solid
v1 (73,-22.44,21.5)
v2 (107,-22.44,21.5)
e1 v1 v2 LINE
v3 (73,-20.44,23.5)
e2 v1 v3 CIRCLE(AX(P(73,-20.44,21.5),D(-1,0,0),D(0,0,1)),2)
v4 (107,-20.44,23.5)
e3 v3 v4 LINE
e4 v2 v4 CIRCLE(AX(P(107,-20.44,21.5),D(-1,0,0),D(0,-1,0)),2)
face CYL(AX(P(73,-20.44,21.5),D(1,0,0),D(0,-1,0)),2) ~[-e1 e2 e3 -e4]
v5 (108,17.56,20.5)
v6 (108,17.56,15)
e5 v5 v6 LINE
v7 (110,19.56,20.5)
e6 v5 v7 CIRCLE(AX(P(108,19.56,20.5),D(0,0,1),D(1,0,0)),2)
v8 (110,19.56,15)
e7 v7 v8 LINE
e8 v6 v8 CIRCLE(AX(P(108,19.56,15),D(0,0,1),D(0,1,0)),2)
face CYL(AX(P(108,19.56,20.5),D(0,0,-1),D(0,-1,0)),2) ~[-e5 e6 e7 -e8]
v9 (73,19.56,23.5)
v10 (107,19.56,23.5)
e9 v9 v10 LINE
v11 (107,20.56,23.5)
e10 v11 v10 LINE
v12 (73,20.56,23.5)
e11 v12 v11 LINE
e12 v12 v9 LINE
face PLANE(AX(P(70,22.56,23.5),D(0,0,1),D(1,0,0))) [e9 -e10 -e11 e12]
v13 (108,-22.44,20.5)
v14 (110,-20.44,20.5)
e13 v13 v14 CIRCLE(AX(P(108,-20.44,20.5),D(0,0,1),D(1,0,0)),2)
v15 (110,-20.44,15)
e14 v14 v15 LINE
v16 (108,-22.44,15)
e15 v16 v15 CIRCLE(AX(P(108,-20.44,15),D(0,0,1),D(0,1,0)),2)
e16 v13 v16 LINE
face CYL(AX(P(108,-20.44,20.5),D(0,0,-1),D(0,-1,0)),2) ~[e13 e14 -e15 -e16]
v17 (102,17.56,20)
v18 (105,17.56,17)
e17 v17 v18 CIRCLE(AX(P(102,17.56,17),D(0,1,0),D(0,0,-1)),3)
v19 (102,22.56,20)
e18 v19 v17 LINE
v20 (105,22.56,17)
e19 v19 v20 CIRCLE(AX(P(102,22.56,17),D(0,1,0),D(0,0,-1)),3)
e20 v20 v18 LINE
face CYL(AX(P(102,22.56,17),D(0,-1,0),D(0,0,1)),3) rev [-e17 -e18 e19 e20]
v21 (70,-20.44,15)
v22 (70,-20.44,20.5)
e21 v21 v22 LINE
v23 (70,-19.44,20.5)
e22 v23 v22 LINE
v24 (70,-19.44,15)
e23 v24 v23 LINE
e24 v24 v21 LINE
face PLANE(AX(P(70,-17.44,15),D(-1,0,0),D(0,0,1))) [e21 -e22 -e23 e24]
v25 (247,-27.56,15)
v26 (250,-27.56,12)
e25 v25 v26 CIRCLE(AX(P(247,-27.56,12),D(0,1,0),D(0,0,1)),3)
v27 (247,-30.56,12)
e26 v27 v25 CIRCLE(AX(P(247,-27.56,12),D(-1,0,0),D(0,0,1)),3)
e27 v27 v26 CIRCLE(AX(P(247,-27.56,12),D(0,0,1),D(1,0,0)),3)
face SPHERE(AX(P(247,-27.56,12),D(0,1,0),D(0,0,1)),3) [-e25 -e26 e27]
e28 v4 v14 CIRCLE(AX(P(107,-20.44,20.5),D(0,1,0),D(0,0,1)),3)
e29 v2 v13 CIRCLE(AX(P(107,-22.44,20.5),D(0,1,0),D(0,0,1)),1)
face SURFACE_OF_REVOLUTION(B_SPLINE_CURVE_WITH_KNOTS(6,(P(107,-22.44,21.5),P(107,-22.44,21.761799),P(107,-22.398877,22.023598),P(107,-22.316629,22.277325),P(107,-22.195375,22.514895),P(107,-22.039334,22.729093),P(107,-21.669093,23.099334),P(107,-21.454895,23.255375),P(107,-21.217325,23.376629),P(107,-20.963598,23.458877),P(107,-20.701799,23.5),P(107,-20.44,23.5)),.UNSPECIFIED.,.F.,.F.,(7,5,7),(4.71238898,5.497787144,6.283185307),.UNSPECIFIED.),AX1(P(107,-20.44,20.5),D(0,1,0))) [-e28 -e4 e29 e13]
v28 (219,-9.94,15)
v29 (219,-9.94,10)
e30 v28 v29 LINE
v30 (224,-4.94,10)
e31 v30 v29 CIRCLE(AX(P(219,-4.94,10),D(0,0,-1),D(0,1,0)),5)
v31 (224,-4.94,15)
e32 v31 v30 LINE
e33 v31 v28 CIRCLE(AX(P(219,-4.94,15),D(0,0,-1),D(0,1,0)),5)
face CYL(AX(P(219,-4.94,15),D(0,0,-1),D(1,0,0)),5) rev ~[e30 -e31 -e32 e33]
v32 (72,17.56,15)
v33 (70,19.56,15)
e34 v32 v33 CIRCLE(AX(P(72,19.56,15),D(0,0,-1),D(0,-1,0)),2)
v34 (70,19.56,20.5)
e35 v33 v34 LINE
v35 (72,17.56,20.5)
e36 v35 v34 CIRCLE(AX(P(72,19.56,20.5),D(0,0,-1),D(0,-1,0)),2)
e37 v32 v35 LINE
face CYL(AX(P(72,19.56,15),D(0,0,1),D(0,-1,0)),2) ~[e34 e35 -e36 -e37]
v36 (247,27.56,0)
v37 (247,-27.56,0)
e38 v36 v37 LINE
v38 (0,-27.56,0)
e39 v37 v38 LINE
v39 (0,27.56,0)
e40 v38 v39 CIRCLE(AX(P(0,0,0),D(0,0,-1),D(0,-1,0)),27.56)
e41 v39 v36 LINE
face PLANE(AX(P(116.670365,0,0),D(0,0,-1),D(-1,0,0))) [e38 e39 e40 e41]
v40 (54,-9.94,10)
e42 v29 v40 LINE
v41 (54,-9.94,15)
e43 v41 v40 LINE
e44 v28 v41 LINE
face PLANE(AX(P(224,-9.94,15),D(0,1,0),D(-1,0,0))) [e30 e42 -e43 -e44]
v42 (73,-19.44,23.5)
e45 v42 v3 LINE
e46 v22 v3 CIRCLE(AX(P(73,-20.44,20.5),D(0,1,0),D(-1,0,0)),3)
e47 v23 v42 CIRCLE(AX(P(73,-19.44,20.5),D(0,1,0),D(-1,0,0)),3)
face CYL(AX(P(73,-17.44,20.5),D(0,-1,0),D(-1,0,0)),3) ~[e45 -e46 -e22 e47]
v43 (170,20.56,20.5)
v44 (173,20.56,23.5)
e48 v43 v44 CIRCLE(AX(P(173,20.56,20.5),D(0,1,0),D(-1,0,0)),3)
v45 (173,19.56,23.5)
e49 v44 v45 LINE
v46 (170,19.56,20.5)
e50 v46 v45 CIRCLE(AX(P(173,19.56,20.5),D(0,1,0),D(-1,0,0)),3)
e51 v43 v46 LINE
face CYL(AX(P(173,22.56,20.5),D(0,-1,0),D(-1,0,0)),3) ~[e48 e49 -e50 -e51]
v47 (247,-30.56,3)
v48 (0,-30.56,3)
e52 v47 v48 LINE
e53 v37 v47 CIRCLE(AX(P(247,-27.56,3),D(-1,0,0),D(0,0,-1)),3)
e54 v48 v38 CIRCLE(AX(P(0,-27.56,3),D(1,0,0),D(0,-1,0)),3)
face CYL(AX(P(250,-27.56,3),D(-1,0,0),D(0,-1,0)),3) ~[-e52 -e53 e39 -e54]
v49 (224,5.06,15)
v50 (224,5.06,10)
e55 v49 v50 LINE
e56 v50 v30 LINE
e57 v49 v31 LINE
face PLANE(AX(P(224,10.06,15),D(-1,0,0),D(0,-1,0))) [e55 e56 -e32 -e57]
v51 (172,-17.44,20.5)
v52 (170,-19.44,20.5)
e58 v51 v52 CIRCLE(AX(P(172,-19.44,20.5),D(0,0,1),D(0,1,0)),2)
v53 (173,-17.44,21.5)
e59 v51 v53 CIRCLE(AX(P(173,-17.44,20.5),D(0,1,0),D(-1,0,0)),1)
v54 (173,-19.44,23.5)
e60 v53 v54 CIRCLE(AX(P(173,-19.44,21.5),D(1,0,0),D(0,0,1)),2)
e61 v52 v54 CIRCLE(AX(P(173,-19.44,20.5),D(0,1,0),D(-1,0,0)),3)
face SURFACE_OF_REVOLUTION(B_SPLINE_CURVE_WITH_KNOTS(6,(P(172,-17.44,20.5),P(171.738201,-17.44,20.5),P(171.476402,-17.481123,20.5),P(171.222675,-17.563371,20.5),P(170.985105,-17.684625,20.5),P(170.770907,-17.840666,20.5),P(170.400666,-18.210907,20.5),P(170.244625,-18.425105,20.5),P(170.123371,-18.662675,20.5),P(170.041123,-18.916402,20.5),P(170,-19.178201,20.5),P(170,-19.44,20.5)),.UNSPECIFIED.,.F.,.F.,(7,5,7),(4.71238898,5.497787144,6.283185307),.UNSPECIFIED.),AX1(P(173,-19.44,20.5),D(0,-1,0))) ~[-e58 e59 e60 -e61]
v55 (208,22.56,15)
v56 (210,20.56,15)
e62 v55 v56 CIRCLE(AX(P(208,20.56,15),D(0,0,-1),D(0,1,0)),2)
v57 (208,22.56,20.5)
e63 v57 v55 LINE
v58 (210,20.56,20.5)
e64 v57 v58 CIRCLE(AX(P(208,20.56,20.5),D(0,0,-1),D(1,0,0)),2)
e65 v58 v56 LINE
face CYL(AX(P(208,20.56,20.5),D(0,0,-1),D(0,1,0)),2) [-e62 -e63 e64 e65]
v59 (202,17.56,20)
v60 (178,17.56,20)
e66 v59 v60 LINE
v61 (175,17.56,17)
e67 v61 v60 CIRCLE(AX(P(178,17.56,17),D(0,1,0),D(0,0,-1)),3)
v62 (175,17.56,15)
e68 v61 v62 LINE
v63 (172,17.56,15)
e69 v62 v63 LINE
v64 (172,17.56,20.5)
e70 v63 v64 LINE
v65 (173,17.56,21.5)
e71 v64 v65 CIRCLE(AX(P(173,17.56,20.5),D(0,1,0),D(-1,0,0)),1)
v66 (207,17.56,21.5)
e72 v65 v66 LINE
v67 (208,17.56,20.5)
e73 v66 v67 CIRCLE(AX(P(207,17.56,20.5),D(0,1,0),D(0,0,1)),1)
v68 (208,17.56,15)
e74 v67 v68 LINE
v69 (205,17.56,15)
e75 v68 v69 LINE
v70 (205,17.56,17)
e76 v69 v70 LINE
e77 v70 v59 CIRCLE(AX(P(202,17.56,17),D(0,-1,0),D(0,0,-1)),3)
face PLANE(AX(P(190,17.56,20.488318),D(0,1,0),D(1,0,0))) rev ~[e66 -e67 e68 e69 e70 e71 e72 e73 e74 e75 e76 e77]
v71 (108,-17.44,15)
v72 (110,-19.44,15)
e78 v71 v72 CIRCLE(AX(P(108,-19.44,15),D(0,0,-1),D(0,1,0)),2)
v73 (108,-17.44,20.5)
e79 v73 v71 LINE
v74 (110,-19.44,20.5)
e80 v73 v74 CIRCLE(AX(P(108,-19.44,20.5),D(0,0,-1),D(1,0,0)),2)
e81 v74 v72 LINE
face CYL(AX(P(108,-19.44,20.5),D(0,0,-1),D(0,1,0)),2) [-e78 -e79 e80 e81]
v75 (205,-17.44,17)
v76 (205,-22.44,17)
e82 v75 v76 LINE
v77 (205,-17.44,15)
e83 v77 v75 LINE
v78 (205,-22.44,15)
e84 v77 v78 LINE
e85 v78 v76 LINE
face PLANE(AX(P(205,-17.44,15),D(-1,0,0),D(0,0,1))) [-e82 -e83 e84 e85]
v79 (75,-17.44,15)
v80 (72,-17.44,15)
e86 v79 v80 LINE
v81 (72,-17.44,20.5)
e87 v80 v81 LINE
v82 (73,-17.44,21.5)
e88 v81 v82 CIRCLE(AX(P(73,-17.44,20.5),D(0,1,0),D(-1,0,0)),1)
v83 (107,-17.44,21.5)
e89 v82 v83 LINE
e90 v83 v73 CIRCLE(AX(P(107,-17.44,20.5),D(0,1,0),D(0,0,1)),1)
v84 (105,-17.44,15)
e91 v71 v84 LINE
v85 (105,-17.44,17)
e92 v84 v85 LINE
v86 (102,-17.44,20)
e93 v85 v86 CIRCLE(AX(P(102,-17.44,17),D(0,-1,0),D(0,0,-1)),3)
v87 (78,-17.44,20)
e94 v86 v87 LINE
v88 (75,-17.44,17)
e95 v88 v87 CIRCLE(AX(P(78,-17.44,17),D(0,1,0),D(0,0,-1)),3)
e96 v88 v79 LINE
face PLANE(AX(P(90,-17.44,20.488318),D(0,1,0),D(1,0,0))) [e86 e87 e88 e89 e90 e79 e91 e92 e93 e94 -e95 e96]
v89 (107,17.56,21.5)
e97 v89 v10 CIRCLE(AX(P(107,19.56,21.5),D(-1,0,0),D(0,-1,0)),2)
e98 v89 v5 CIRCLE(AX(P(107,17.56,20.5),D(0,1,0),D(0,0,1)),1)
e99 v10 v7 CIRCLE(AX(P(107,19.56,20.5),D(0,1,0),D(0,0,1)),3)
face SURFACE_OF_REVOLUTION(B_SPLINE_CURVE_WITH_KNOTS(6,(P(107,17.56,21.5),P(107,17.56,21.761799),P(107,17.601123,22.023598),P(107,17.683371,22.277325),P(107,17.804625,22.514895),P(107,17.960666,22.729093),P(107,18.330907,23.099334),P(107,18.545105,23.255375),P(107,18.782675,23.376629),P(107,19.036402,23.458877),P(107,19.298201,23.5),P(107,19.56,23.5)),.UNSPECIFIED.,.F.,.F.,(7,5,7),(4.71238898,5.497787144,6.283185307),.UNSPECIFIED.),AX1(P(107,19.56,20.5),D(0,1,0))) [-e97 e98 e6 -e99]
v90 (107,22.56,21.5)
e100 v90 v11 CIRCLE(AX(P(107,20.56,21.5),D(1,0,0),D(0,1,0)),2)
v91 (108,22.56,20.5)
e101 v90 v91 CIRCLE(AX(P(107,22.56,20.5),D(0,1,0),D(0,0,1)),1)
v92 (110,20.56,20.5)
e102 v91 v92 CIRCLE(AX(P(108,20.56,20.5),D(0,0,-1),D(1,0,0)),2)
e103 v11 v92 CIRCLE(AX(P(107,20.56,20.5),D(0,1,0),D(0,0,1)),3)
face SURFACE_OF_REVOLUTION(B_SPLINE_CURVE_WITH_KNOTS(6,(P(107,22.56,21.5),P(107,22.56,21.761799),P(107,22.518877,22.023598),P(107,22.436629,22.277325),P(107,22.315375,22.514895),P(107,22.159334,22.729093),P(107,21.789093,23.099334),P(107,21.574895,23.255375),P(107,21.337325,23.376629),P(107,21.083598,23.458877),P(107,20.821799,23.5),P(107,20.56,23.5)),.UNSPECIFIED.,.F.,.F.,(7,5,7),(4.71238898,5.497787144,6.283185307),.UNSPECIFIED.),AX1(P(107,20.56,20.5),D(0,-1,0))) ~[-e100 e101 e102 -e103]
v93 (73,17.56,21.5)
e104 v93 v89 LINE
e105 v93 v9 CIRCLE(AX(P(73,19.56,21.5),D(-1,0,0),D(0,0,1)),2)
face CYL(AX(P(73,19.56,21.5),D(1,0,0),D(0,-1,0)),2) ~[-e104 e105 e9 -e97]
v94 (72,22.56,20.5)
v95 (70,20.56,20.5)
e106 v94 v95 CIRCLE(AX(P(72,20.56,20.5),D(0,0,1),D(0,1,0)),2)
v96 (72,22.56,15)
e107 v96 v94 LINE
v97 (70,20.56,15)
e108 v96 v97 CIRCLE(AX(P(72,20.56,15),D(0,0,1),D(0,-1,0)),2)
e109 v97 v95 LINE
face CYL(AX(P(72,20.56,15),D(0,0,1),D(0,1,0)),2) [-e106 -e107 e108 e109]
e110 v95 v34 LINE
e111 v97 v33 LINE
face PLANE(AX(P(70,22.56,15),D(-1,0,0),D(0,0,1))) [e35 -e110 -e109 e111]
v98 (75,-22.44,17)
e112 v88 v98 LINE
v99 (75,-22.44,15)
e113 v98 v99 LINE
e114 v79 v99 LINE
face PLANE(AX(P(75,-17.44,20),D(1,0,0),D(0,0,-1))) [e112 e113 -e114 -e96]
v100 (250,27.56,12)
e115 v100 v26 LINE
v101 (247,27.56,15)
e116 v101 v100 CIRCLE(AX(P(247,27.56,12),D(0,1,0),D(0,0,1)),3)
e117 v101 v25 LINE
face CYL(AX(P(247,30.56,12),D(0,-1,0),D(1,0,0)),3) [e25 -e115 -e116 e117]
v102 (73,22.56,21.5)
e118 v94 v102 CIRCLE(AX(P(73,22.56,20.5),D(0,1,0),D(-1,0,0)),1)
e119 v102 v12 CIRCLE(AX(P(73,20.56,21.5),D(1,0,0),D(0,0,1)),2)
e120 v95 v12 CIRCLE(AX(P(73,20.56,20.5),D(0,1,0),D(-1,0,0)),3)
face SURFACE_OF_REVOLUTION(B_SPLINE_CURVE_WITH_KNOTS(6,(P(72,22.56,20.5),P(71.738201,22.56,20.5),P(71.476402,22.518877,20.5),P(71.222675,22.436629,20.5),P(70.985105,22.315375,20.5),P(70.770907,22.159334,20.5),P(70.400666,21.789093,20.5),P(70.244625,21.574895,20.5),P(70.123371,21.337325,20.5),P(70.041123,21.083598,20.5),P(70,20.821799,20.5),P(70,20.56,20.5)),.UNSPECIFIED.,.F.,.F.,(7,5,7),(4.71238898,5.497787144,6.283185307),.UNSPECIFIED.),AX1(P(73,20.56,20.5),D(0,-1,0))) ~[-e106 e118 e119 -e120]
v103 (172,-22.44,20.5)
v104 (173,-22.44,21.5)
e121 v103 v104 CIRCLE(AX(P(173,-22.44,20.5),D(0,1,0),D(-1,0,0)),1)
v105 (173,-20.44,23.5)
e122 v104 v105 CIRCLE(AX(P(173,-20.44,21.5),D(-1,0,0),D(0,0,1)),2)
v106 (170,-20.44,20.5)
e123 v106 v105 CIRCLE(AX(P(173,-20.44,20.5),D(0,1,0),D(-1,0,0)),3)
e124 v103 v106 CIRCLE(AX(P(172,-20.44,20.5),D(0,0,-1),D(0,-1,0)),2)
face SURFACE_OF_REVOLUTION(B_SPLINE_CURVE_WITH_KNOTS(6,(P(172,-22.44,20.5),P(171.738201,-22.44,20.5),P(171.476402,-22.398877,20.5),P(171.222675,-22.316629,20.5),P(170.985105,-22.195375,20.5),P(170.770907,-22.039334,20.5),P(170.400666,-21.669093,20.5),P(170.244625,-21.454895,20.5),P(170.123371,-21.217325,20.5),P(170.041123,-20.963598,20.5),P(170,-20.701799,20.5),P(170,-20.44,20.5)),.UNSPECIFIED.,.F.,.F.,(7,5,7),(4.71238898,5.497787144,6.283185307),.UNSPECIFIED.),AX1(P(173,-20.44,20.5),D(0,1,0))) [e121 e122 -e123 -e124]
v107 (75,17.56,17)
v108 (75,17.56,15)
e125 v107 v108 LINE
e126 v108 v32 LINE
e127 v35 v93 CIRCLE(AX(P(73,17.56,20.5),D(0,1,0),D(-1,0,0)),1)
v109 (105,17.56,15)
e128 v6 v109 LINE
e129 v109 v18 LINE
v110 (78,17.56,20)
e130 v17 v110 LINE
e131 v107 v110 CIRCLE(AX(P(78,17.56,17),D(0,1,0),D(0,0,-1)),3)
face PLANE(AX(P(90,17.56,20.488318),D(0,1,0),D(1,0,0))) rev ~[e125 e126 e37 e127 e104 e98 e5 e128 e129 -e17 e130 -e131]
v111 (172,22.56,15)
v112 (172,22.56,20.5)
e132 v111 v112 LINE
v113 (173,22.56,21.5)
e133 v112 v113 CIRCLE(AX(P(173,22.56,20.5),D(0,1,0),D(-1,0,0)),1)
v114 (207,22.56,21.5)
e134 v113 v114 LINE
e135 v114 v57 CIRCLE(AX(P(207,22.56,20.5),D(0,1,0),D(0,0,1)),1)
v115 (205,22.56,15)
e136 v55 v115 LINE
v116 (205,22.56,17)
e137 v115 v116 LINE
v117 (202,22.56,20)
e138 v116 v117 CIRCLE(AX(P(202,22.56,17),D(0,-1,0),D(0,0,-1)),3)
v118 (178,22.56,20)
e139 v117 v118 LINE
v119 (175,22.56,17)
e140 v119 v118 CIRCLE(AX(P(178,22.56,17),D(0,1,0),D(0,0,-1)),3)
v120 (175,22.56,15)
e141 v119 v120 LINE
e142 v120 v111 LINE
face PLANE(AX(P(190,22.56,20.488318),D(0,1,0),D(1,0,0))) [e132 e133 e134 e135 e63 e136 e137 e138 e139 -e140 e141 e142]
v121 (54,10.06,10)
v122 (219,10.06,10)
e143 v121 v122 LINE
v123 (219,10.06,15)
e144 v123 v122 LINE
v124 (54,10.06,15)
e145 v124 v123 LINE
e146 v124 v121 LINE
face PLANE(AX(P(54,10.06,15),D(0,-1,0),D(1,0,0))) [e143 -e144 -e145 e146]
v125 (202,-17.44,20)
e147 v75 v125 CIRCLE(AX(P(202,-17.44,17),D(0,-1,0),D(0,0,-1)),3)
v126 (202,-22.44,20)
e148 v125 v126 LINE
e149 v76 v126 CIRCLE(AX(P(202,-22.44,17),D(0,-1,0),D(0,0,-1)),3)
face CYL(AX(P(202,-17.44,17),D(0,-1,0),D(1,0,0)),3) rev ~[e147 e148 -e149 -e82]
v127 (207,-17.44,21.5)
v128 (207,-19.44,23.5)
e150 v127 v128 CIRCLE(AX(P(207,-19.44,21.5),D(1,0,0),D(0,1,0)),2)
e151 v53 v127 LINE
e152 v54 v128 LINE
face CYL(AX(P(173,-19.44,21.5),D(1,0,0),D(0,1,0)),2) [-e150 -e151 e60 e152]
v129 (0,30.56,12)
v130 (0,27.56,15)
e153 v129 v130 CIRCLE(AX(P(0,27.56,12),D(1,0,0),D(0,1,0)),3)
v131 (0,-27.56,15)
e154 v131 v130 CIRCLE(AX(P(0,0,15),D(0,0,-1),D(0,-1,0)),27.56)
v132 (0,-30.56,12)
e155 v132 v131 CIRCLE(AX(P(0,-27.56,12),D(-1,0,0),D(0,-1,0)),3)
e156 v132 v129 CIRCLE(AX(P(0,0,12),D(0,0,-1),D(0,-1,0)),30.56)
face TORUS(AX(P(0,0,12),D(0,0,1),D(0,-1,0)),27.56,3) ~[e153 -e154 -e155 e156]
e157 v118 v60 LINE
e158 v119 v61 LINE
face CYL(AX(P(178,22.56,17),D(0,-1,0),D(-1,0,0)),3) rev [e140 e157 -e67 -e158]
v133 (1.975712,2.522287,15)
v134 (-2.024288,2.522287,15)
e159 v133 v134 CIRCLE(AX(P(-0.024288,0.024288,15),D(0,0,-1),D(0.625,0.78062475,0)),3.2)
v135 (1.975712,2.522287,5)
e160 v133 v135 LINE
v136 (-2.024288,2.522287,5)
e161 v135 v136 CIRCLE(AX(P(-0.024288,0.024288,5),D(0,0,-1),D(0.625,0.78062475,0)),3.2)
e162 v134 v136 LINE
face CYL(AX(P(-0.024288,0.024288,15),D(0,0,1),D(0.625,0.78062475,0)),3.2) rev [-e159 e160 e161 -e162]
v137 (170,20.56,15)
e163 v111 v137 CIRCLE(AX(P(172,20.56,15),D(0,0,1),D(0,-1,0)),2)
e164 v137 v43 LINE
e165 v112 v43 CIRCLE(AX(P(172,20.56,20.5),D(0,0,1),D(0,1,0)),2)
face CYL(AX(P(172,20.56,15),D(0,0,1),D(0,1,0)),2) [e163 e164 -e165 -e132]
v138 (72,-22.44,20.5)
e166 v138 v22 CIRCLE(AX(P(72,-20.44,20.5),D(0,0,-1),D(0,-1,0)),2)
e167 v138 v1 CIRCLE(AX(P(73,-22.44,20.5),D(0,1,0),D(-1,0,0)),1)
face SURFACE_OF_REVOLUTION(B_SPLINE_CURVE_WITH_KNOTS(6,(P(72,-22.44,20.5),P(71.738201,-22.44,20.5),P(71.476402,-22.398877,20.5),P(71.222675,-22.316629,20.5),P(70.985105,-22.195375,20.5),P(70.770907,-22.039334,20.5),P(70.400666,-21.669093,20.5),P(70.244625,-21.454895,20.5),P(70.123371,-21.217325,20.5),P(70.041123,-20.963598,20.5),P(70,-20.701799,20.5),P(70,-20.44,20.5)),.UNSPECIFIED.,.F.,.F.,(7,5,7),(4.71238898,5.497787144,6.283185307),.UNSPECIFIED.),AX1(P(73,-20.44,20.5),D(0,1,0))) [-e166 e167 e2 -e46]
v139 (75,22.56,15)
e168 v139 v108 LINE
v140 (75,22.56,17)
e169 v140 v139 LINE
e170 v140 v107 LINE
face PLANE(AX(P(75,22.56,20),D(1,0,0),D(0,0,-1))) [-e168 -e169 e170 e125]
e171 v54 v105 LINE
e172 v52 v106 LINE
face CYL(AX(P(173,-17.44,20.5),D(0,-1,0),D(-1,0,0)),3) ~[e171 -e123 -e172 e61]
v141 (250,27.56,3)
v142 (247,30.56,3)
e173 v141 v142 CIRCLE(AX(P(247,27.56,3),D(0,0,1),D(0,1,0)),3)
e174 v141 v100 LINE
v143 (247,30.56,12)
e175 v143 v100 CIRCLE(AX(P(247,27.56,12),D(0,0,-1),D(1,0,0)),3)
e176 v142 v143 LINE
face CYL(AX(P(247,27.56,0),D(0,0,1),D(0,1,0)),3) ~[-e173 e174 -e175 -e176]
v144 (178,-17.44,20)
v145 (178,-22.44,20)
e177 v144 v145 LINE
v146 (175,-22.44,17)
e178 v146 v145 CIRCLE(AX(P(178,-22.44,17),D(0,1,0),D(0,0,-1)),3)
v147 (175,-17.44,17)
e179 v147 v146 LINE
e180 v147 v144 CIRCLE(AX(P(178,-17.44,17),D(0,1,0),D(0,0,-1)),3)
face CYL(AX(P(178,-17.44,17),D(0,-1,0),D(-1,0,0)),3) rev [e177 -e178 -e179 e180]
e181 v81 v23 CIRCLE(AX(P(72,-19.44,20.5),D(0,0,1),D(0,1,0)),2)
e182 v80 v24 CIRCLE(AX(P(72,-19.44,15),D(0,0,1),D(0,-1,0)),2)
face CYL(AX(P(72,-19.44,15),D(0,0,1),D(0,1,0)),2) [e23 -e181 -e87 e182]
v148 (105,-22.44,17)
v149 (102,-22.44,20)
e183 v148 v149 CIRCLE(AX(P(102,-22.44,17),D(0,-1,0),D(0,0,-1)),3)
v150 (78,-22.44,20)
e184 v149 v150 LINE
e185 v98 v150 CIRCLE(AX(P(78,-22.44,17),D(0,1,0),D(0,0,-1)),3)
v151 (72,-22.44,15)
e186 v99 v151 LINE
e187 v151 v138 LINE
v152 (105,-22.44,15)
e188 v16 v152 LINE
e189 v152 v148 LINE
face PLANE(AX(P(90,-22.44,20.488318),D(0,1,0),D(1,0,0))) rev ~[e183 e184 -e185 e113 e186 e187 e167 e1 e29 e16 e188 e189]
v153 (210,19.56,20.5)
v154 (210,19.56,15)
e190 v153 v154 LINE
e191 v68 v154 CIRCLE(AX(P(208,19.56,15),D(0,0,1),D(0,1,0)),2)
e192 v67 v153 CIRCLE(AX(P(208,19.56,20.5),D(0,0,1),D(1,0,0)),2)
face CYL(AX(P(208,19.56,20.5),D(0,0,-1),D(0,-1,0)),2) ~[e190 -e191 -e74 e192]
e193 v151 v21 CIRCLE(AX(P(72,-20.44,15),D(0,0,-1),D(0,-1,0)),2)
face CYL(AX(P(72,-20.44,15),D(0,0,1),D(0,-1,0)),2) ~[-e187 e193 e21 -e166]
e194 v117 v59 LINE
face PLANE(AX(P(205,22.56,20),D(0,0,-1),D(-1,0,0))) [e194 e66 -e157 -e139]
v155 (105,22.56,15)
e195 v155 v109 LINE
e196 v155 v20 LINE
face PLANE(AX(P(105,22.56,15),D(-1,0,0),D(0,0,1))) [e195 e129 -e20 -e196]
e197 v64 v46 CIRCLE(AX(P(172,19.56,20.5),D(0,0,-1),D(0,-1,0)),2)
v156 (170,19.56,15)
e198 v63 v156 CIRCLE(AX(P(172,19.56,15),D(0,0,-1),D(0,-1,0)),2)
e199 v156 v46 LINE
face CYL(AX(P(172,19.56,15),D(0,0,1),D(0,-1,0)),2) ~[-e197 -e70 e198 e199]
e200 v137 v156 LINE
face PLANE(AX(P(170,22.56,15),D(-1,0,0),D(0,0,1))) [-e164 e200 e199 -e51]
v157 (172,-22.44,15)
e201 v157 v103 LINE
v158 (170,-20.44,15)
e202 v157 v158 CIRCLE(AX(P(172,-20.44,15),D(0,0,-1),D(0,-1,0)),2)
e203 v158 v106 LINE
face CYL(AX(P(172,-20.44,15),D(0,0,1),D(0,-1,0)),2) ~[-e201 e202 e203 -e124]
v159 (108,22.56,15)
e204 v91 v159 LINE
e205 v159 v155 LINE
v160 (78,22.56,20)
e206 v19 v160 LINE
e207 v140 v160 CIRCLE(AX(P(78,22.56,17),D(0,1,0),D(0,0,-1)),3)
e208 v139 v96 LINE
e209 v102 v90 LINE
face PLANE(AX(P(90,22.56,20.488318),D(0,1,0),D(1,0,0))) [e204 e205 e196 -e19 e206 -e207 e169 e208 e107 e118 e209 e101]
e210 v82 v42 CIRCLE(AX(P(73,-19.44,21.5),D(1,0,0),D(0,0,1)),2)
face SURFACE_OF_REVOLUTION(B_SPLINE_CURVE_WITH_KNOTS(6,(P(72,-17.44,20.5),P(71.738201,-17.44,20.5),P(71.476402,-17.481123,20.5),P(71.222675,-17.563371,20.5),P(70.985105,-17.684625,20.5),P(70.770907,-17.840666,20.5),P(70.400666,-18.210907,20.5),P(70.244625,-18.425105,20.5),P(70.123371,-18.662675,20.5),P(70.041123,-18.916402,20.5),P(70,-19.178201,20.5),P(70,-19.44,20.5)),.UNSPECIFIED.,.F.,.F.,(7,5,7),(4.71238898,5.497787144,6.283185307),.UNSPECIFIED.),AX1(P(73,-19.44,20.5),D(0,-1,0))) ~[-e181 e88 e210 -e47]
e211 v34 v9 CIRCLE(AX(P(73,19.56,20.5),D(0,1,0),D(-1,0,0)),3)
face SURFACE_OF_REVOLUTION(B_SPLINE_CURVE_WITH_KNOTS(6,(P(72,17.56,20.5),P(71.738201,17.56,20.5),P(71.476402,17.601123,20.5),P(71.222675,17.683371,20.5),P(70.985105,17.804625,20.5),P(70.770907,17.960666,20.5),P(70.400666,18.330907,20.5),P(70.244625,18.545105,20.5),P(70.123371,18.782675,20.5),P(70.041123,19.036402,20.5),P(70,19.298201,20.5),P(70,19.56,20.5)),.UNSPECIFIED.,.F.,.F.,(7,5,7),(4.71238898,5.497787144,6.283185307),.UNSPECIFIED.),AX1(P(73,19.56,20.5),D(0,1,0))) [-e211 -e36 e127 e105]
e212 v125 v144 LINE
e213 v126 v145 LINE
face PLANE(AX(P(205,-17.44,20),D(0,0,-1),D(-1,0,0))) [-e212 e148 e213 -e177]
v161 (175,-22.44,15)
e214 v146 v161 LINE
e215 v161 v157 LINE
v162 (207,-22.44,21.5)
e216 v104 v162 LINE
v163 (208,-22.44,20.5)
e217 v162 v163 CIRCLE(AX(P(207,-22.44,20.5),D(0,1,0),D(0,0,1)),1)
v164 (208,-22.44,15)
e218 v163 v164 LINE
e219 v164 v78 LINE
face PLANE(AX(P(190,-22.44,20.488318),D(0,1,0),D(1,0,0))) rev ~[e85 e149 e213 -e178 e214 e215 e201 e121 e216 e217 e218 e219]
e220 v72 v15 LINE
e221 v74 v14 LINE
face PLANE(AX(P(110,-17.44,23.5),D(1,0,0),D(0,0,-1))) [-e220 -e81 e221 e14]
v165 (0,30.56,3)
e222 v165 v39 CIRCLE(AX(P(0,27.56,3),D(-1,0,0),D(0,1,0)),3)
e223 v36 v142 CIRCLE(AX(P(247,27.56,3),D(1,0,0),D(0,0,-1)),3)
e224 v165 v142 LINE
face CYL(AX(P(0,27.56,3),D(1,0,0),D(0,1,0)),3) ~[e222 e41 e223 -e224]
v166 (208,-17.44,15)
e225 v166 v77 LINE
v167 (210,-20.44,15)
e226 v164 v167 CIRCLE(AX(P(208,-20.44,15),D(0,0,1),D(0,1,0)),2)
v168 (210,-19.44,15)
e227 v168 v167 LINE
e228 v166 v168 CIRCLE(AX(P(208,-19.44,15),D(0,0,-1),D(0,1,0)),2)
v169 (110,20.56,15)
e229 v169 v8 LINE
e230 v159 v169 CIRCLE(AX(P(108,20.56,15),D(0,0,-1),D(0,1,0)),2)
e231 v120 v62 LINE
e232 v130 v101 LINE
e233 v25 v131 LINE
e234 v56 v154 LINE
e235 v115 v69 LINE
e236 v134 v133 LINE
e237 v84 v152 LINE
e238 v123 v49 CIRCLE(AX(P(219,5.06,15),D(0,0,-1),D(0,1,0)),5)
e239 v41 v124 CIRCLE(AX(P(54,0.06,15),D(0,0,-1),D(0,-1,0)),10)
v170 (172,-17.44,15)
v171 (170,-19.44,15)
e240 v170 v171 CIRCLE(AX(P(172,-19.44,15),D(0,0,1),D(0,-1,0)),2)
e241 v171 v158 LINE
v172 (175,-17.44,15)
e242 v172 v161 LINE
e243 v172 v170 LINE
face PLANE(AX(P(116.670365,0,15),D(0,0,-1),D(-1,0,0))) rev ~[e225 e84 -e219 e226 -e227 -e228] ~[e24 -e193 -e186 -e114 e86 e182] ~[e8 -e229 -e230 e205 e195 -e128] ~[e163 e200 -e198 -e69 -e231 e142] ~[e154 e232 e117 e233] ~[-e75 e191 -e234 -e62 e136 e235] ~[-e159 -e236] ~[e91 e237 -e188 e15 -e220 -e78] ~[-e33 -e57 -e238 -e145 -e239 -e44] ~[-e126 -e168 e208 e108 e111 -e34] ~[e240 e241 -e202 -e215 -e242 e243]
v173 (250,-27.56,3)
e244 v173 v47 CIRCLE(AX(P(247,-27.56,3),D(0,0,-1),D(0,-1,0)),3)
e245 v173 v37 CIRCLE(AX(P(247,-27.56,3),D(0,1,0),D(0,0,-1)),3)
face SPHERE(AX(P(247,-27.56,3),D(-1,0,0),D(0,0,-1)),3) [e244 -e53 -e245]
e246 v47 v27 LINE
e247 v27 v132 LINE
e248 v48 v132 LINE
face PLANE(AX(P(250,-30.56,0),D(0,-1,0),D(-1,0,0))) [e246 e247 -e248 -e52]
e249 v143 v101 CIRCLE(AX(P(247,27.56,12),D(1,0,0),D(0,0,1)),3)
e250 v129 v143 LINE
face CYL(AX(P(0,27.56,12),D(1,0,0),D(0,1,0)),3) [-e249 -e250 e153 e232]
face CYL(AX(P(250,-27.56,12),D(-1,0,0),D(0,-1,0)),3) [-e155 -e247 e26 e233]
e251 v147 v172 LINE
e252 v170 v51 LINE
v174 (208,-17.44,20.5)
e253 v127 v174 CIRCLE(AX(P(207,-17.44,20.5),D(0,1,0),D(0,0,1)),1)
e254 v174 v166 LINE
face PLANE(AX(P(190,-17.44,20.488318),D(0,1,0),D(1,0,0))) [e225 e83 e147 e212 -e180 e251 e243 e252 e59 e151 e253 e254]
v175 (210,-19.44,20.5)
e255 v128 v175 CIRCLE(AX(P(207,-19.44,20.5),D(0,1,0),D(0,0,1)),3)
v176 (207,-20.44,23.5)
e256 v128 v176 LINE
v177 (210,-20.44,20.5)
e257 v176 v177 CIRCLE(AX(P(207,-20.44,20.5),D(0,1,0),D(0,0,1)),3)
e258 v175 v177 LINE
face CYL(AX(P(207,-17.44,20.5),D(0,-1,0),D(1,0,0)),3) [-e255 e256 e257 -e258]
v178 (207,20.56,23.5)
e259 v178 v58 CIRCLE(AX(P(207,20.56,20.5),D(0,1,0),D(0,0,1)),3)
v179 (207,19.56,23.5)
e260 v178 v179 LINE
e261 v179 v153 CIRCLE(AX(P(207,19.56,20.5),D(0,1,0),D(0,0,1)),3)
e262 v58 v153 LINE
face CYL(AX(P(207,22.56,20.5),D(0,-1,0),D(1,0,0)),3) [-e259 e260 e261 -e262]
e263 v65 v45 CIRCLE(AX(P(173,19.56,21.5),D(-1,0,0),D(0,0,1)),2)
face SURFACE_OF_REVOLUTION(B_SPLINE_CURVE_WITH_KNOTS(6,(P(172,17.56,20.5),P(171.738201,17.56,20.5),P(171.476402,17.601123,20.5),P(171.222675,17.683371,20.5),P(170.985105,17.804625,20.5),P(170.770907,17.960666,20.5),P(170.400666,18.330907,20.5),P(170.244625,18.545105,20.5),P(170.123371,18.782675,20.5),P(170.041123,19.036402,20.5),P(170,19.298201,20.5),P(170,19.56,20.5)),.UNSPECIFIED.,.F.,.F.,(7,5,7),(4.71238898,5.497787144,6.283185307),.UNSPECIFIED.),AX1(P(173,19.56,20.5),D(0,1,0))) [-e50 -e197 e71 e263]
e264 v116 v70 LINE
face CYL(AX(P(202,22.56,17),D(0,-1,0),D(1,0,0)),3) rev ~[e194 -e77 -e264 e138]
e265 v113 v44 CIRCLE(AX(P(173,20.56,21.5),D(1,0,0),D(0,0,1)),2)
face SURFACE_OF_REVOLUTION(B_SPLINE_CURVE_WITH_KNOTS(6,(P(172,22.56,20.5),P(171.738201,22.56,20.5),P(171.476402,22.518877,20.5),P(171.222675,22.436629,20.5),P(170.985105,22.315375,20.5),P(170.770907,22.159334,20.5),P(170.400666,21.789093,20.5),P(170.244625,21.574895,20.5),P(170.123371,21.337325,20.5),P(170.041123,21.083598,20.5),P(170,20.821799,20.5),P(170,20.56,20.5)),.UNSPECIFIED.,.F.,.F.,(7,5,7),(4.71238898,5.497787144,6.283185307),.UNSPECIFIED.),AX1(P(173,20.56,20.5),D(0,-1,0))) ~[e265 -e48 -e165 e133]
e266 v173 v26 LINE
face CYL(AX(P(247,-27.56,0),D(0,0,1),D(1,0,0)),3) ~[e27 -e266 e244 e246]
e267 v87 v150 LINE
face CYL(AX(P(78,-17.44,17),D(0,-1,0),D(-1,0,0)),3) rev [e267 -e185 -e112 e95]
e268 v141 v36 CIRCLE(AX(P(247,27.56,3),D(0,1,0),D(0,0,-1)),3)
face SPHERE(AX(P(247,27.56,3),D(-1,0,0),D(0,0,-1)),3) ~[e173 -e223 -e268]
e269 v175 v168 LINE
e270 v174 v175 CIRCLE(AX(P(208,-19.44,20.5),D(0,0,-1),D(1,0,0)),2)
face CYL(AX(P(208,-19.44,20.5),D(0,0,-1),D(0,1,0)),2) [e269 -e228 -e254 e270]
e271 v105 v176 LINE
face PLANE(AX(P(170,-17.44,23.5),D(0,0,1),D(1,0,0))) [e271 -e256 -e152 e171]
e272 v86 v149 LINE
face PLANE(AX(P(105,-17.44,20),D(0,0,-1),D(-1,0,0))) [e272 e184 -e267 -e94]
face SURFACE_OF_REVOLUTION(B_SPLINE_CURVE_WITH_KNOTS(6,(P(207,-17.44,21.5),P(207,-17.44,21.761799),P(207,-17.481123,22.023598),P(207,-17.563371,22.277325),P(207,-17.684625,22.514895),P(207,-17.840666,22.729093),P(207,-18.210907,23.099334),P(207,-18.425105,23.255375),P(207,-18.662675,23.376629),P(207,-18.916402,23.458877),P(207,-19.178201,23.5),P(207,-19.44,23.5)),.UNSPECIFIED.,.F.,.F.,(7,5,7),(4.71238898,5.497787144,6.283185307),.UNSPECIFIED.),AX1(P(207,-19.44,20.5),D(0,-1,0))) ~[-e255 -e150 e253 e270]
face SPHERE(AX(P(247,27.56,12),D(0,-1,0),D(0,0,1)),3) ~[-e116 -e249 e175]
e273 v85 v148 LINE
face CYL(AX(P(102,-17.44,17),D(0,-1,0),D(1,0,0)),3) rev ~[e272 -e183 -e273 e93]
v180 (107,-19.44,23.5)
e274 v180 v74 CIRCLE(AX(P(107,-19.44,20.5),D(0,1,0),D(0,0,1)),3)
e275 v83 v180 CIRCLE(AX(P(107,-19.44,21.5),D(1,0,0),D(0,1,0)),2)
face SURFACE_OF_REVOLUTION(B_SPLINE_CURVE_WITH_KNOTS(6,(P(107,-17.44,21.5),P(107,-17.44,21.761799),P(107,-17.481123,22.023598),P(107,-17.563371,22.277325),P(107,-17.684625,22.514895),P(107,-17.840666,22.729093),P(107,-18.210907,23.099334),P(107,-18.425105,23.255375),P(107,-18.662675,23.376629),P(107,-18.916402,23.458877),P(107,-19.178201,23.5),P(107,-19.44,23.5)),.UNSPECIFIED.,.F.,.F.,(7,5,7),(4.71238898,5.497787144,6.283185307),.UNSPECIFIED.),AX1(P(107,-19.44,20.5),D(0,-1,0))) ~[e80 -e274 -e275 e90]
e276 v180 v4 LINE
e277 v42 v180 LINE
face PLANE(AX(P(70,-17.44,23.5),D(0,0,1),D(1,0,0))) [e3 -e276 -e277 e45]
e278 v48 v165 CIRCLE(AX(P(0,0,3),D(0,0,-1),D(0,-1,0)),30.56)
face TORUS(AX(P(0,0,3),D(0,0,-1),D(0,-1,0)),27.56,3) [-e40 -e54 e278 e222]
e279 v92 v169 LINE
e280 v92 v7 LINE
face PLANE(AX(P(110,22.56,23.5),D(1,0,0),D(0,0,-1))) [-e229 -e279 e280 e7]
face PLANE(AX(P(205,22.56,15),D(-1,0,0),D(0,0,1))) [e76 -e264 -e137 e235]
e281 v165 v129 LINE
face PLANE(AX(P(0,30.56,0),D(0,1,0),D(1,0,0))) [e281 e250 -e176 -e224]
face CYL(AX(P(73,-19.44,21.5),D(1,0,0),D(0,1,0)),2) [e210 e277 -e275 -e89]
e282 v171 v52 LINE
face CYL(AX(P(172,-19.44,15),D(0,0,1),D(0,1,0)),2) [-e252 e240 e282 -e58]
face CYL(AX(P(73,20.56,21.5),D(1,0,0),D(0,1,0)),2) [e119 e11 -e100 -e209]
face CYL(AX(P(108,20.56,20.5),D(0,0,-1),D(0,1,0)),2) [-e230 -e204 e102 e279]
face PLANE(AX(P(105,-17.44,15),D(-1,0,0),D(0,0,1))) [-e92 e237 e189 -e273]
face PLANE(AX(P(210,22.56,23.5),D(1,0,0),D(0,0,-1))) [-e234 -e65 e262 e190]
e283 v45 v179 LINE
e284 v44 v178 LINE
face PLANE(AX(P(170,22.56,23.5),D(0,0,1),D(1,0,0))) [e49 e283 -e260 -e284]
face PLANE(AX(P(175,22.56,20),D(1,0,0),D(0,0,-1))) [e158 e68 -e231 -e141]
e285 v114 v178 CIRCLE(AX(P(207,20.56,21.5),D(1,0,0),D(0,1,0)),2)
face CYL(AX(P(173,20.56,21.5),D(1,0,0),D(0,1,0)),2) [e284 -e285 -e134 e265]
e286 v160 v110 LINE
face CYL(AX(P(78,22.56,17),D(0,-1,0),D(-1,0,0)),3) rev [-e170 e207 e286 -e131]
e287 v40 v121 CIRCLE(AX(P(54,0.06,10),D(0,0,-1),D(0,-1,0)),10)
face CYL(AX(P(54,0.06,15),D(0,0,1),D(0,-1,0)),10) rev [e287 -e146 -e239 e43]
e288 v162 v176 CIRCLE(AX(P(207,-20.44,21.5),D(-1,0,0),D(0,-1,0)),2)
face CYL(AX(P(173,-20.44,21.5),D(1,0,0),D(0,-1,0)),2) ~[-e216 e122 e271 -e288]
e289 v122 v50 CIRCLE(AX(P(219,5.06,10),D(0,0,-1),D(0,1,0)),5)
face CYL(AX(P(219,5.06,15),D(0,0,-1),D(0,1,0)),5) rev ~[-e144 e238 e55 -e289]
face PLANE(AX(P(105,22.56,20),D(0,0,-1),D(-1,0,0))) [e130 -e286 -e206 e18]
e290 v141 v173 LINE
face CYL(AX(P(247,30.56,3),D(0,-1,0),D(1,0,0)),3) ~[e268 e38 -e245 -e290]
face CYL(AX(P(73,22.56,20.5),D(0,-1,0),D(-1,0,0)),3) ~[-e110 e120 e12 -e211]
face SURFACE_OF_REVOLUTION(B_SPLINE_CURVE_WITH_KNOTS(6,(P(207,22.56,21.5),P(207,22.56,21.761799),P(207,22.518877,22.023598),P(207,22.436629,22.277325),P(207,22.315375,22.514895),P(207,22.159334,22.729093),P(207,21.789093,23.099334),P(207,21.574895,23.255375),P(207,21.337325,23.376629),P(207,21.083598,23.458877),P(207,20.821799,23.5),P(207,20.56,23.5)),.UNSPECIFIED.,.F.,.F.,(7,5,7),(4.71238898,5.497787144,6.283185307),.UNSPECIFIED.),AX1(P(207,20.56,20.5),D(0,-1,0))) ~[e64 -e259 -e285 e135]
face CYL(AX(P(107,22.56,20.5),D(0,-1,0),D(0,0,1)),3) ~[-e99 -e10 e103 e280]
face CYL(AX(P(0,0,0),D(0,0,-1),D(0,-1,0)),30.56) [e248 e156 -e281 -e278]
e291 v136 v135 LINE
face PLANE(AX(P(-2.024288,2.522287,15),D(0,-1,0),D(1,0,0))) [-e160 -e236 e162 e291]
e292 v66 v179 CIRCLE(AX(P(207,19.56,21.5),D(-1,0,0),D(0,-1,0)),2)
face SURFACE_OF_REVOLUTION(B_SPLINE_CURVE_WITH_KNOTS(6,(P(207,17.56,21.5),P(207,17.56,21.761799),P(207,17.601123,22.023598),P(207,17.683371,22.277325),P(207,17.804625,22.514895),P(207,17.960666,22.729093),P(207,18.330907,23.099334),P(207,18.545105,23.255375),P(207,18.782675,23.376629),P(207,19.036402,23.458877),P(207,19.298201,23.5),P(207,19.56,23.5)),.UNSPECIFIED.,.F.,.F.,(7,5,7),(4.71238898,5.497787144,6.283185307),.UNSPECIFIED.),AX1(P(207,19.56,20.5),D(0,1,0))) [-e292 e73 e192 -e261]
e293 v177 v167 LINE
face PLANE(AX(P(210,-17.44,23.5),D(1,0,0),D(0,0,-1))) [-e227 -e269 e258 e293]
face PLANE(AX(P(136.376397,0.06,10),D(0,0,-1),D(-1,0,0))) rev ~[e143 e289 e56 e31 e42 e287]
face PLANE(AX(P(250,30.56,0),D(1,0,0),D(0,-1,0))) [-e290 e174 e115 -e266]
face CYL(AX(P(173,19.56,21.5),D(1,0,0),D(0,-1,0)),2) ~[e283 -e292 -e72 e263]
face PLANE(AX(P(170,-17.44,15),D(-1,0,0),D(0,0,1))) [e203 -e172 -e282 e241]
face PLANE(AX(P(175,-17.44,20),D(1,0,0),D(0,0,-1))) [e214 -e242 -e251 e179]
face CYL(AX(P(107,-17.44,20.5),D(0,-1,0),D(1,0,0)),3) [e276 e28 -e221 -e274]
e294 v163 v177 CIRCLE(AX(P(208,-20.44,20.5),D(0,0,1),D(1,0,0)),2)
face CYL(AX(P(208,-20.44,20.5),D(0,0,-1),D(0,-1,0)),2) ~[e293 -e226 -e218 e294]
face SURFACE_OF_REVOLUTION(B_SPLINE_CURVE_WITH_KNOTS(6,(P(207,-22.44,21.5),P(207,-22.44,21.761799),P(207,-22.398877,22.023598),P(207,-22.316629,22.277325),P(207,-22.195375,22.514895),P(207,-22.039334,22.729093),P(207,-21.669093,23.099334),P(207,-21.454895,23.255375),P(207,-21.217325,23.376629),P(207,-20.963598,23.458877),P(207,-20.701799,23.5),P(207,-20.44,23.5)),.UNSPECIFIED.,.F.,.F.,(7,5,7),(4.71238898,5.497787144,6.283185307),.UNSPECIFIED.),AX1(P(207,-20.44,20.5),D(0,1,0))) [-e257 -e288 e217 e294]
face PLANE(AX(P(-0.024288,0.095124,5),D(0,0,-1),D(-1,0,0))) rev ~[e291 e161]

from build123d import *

# Parameters (mm, degrees)
BOSS_EXTRUDE1_DEPTH               = 15
CONG_2_R                          = 3
ENL_V_MAT_EXTRU_3_DEPTH           = 10
BOSS_EXTRU_1_DEPTH                = 5
CONG_3_R                          = 3
CONG_4_R                          = 3
R_P_TITION_LIN_AIRE1_COUNT        = 2
R_P_TITION_LIN_AIRE1_PITCH        = 100
R_P_TITION_LIN_AIRE2_COUNT        = 2
R_P_TITION_LIN_AIRE2_PITCH        = 40
R_P_TITION_LIN_AIRE2_COPY_1_DEPTH = 5
CONG_5_R                          = 3
CONG_6_R                          = 3
CONG_7_R                          = 3
CONG_8_R                          = 2
ENL_V_MAT_EXTRU_5_DEPTH           = 5
CONG_10_R                         = 5


with BuildPart() as part:
    # Sketch1 → Boss-Extrude1 (new body)
    with BuildSketch(Plane.XY):
        with BuildLine():
            Line((0, 30.56), (250, 30.56))
            Line((250, 30.56), (250, -30.56))
            Line((250, -30.56), (0, -30.56))
            ThreePointArc((0, -30.56), (-30.56, 0), (0, 30.56))
        make_face()
    extrude(amount=BOSS_EXTRUDE1_DEPTH)

    # Congé2
    cong_2_edges = [part.edges().sort_by_distance(p)[0] for p in [
        (250, 0, 15),
        (125, 30.56, 15),
        (-30.56, 0, 15),
        (125, 30.56, 0),
        (250, 0, 0),
        (125, -30.56, 0),
        (-30.56, 0, 0),
        (125, -30.56, 15),
        (250, 30.56, 7.5),
        (250, -30.56, 7.5),
    ]]
    fillet(cong_2_edges, radius=CONG_2_R)

    # Esquisse5 → Enlèv. mat.-Extru.3 (cut)
    with BuildSketch(Plane.XY.offset(15)):
        with BuildLine():
            Line((-2.024287639, 2.522286838), (1.975712361, 2.522286838))
            ThreePointArc((1.975712361, 2.522286838), (-0.024287639, -3.175712361), (-2.024287639, 2.522286838))
        make_face()
    extrude(amount=-ENL_V_MAT_EXTRU_3_DEPTH, mode=Mode.SUBTRACT)

    # Esquisse9 → Boss.-Extru.1 (add)
    with BuildSketch(Plane(origin=(0, 22.56, 0), x_dir=(1, 0, 0), z_dir=(0, 1, 0))):
        Polygon((70, -15), (70, -23.5), (110, -23.5), (110, -15), (105, -15), (105, -20), (75, -20), (75, -15), align=None)
    boss_extru_1 = extrude(amount=-BOSS_EXTRU_1_DEPTH)

    # Congé3
    cong_3_edges = [part.edges().sort_by_distance(p)[0] for p in [
        (70, 20.06, 23.5),
    ]]
    fillet(cong_3_edges, radius=CONG_3_R)

    # Congé4
    cong_4_edges = [part.edges().sort_by_distance(p)[0] for p in [
        (75, 20.06, 20),
        (105, 20.06, 20),
        (110, 20.06, 23.5),
    ]]
    fillet(cong_4_edges, radius=CONG_4_R)

    # Répétition linéaire1: Boss.-Extru.1 ×2
    with Locations(*[(i * R_P_TITION_LIN_AIRE1_PITCH, 0, 0) for i in range(1, R_P_TITION_LIN_AIRE1_COUNT)]):
        add(boss_extru_1)

    # Répétition linéaire2: Boss.-Extru.1 ×2
    with Locations(*[(0, -i * R_P_TITION_LIN_AIRE2_PITCH, 0) for i in range(1, R_P_TITION_LIN_AIRE2_COUNT)]):
        add(boss_extru_1)

    # Répétition linéaire2 copy 1 sketch → Répétition linéaire2 copy 1 (add)
    with BuildSketch(Plane(origin=(100, -17.44, 0), x_dir=(1, 0, 0), z_dir=(0, 1, 0))):
        Polygon((70, -15), (70, -23.5), (110, -23.5), (110, -15), (105, -15), (105, -20), (75, -20), (75, -15), align=None)
    extrude(amount=-R_P_TITION_LIN_AIRE2_COPY_1_DEPTH)

    # Congé5
    cong_5_edges = [part.edges().sort_by_distance(p)[0] for p in [
        (75, -19.94, 20),
        (105, -19.94, 20),
        (110, -19.94, 23.5),
        (70, -19.94, 23.5),
    ]]
    fillet(cong_5_edges, radius=CONG_5_R)

    # Congé6
    cong_6_edges = [part.edges().sort_by_distance(p)[0] for p in [
        (175, -19.94, 20),
        (205, -19.94, 20),
        (210, -19.94, 23.5),
        (170, -19.94, 23.5),
    ]]
    fillet(cong_6_edges, radius=CONG_6_R)

    # Congé7
    cong_7_edges = [part.edges().sort_by_distance(p)[0] for p in [
        (175, 20.06, 20),
        (205, 20.06, 20),
        (210, 20.06, 23.5),
        (170, 20.06, 23.5),
    ]]
    fillet(cong_7_edges, radius=CONG_7_R)

    # Congé8
    cong_8_edges = [part.edges().sort_by_distance(p)[0] for p in [
        (170, 17.56, 17.75),
        (170, 22.56, 17.75),
        (70, -22.44, 17.75),
        (70, -17.44, 17.75),
        (170, -22.44, 17.75),
        (170, -17.44, 17.75),
        (90, -17.44, 23.5),
        (110, -17.44, 17.75),
        (109.121320344, -17.44, 22.621320344),
        (70.878679656, -17.44, 22.621320344),
        (90, -22.44, 23.5),
        (110, -22.44, 17.75),
        (109.121320344, -22.44, 22.621320344),
        (70.878679656, -22.44, 22.621320344),
        (190, -17.44, 23.5),
        (190, -22.44, 23.5),
        (210, -17.44, 17.75),
        (170.878679656, -17.44, 22.621320344),
        (209.121320344, -17.44, 22.621320344),
        (210, -22.44, 17.75),
        (170.878679656, -22.44, 22.621320344),
        (209.121320344, -22.44, 22.621320344),
        (190, 22.56, 23.5),
        (210, 22.56, 17.75),
        (209.121320344, 22.56, 22.621320344),
        (170.878679656, 22.56, 22.621320344),
        (190, 17.56, 23.5),
        (210, 17.56, 17.75),
        (209.121320344, 17.56, 22.621320344),
        (170.878679656, 17.56, 22.621320344),
        (70, 17.56, 17.75),
        (70, 22.56, 17.75),
        (90, 22.56, 23.5),
        (70.878679656, 22.56, 22.621320344),
        (90, 17.56, 23.5),
        (70.878679656, 17.56, 22.621320344),
        (110, 22.56, 17.75),
        (109.121320344, 22.56, 22.621320344),
        (110, 17.56, 17.75),
        (109.121320344, 17.56, 22.621320344),
    ]]
    fillet(cong_8_edges, radius=CONG_8_R)

    # Esquisse11 → Enlèv. mat.-Extru.5 (cut)
    with BuildSketch(Plane.XY.offset(15)):
        with BuildLine():
            Line((54, 10.06), (224, 10.06))
            Line((224, 10.06), (224, -9.94))
            Line((224, -9.94), (54, -9.94))
            ThreePointArc((54, -9.94), (44, 0.06), (54, 10.06))
        make_face()
    extrude(amount=-ENL_V_MAT_EXTRU_5_DEPTH, mode=Mode.SUBTRACT)

    # Congé10
    cong_10_edges = [part.edges().sort_by_distance(p)[0] for p in [
        (224, 10.06, 12.5),
        (224, -9.94, 12.5),
    ]]
    fillet(cong_10_edges, radius=CONG_10_R)


solid = part.part
